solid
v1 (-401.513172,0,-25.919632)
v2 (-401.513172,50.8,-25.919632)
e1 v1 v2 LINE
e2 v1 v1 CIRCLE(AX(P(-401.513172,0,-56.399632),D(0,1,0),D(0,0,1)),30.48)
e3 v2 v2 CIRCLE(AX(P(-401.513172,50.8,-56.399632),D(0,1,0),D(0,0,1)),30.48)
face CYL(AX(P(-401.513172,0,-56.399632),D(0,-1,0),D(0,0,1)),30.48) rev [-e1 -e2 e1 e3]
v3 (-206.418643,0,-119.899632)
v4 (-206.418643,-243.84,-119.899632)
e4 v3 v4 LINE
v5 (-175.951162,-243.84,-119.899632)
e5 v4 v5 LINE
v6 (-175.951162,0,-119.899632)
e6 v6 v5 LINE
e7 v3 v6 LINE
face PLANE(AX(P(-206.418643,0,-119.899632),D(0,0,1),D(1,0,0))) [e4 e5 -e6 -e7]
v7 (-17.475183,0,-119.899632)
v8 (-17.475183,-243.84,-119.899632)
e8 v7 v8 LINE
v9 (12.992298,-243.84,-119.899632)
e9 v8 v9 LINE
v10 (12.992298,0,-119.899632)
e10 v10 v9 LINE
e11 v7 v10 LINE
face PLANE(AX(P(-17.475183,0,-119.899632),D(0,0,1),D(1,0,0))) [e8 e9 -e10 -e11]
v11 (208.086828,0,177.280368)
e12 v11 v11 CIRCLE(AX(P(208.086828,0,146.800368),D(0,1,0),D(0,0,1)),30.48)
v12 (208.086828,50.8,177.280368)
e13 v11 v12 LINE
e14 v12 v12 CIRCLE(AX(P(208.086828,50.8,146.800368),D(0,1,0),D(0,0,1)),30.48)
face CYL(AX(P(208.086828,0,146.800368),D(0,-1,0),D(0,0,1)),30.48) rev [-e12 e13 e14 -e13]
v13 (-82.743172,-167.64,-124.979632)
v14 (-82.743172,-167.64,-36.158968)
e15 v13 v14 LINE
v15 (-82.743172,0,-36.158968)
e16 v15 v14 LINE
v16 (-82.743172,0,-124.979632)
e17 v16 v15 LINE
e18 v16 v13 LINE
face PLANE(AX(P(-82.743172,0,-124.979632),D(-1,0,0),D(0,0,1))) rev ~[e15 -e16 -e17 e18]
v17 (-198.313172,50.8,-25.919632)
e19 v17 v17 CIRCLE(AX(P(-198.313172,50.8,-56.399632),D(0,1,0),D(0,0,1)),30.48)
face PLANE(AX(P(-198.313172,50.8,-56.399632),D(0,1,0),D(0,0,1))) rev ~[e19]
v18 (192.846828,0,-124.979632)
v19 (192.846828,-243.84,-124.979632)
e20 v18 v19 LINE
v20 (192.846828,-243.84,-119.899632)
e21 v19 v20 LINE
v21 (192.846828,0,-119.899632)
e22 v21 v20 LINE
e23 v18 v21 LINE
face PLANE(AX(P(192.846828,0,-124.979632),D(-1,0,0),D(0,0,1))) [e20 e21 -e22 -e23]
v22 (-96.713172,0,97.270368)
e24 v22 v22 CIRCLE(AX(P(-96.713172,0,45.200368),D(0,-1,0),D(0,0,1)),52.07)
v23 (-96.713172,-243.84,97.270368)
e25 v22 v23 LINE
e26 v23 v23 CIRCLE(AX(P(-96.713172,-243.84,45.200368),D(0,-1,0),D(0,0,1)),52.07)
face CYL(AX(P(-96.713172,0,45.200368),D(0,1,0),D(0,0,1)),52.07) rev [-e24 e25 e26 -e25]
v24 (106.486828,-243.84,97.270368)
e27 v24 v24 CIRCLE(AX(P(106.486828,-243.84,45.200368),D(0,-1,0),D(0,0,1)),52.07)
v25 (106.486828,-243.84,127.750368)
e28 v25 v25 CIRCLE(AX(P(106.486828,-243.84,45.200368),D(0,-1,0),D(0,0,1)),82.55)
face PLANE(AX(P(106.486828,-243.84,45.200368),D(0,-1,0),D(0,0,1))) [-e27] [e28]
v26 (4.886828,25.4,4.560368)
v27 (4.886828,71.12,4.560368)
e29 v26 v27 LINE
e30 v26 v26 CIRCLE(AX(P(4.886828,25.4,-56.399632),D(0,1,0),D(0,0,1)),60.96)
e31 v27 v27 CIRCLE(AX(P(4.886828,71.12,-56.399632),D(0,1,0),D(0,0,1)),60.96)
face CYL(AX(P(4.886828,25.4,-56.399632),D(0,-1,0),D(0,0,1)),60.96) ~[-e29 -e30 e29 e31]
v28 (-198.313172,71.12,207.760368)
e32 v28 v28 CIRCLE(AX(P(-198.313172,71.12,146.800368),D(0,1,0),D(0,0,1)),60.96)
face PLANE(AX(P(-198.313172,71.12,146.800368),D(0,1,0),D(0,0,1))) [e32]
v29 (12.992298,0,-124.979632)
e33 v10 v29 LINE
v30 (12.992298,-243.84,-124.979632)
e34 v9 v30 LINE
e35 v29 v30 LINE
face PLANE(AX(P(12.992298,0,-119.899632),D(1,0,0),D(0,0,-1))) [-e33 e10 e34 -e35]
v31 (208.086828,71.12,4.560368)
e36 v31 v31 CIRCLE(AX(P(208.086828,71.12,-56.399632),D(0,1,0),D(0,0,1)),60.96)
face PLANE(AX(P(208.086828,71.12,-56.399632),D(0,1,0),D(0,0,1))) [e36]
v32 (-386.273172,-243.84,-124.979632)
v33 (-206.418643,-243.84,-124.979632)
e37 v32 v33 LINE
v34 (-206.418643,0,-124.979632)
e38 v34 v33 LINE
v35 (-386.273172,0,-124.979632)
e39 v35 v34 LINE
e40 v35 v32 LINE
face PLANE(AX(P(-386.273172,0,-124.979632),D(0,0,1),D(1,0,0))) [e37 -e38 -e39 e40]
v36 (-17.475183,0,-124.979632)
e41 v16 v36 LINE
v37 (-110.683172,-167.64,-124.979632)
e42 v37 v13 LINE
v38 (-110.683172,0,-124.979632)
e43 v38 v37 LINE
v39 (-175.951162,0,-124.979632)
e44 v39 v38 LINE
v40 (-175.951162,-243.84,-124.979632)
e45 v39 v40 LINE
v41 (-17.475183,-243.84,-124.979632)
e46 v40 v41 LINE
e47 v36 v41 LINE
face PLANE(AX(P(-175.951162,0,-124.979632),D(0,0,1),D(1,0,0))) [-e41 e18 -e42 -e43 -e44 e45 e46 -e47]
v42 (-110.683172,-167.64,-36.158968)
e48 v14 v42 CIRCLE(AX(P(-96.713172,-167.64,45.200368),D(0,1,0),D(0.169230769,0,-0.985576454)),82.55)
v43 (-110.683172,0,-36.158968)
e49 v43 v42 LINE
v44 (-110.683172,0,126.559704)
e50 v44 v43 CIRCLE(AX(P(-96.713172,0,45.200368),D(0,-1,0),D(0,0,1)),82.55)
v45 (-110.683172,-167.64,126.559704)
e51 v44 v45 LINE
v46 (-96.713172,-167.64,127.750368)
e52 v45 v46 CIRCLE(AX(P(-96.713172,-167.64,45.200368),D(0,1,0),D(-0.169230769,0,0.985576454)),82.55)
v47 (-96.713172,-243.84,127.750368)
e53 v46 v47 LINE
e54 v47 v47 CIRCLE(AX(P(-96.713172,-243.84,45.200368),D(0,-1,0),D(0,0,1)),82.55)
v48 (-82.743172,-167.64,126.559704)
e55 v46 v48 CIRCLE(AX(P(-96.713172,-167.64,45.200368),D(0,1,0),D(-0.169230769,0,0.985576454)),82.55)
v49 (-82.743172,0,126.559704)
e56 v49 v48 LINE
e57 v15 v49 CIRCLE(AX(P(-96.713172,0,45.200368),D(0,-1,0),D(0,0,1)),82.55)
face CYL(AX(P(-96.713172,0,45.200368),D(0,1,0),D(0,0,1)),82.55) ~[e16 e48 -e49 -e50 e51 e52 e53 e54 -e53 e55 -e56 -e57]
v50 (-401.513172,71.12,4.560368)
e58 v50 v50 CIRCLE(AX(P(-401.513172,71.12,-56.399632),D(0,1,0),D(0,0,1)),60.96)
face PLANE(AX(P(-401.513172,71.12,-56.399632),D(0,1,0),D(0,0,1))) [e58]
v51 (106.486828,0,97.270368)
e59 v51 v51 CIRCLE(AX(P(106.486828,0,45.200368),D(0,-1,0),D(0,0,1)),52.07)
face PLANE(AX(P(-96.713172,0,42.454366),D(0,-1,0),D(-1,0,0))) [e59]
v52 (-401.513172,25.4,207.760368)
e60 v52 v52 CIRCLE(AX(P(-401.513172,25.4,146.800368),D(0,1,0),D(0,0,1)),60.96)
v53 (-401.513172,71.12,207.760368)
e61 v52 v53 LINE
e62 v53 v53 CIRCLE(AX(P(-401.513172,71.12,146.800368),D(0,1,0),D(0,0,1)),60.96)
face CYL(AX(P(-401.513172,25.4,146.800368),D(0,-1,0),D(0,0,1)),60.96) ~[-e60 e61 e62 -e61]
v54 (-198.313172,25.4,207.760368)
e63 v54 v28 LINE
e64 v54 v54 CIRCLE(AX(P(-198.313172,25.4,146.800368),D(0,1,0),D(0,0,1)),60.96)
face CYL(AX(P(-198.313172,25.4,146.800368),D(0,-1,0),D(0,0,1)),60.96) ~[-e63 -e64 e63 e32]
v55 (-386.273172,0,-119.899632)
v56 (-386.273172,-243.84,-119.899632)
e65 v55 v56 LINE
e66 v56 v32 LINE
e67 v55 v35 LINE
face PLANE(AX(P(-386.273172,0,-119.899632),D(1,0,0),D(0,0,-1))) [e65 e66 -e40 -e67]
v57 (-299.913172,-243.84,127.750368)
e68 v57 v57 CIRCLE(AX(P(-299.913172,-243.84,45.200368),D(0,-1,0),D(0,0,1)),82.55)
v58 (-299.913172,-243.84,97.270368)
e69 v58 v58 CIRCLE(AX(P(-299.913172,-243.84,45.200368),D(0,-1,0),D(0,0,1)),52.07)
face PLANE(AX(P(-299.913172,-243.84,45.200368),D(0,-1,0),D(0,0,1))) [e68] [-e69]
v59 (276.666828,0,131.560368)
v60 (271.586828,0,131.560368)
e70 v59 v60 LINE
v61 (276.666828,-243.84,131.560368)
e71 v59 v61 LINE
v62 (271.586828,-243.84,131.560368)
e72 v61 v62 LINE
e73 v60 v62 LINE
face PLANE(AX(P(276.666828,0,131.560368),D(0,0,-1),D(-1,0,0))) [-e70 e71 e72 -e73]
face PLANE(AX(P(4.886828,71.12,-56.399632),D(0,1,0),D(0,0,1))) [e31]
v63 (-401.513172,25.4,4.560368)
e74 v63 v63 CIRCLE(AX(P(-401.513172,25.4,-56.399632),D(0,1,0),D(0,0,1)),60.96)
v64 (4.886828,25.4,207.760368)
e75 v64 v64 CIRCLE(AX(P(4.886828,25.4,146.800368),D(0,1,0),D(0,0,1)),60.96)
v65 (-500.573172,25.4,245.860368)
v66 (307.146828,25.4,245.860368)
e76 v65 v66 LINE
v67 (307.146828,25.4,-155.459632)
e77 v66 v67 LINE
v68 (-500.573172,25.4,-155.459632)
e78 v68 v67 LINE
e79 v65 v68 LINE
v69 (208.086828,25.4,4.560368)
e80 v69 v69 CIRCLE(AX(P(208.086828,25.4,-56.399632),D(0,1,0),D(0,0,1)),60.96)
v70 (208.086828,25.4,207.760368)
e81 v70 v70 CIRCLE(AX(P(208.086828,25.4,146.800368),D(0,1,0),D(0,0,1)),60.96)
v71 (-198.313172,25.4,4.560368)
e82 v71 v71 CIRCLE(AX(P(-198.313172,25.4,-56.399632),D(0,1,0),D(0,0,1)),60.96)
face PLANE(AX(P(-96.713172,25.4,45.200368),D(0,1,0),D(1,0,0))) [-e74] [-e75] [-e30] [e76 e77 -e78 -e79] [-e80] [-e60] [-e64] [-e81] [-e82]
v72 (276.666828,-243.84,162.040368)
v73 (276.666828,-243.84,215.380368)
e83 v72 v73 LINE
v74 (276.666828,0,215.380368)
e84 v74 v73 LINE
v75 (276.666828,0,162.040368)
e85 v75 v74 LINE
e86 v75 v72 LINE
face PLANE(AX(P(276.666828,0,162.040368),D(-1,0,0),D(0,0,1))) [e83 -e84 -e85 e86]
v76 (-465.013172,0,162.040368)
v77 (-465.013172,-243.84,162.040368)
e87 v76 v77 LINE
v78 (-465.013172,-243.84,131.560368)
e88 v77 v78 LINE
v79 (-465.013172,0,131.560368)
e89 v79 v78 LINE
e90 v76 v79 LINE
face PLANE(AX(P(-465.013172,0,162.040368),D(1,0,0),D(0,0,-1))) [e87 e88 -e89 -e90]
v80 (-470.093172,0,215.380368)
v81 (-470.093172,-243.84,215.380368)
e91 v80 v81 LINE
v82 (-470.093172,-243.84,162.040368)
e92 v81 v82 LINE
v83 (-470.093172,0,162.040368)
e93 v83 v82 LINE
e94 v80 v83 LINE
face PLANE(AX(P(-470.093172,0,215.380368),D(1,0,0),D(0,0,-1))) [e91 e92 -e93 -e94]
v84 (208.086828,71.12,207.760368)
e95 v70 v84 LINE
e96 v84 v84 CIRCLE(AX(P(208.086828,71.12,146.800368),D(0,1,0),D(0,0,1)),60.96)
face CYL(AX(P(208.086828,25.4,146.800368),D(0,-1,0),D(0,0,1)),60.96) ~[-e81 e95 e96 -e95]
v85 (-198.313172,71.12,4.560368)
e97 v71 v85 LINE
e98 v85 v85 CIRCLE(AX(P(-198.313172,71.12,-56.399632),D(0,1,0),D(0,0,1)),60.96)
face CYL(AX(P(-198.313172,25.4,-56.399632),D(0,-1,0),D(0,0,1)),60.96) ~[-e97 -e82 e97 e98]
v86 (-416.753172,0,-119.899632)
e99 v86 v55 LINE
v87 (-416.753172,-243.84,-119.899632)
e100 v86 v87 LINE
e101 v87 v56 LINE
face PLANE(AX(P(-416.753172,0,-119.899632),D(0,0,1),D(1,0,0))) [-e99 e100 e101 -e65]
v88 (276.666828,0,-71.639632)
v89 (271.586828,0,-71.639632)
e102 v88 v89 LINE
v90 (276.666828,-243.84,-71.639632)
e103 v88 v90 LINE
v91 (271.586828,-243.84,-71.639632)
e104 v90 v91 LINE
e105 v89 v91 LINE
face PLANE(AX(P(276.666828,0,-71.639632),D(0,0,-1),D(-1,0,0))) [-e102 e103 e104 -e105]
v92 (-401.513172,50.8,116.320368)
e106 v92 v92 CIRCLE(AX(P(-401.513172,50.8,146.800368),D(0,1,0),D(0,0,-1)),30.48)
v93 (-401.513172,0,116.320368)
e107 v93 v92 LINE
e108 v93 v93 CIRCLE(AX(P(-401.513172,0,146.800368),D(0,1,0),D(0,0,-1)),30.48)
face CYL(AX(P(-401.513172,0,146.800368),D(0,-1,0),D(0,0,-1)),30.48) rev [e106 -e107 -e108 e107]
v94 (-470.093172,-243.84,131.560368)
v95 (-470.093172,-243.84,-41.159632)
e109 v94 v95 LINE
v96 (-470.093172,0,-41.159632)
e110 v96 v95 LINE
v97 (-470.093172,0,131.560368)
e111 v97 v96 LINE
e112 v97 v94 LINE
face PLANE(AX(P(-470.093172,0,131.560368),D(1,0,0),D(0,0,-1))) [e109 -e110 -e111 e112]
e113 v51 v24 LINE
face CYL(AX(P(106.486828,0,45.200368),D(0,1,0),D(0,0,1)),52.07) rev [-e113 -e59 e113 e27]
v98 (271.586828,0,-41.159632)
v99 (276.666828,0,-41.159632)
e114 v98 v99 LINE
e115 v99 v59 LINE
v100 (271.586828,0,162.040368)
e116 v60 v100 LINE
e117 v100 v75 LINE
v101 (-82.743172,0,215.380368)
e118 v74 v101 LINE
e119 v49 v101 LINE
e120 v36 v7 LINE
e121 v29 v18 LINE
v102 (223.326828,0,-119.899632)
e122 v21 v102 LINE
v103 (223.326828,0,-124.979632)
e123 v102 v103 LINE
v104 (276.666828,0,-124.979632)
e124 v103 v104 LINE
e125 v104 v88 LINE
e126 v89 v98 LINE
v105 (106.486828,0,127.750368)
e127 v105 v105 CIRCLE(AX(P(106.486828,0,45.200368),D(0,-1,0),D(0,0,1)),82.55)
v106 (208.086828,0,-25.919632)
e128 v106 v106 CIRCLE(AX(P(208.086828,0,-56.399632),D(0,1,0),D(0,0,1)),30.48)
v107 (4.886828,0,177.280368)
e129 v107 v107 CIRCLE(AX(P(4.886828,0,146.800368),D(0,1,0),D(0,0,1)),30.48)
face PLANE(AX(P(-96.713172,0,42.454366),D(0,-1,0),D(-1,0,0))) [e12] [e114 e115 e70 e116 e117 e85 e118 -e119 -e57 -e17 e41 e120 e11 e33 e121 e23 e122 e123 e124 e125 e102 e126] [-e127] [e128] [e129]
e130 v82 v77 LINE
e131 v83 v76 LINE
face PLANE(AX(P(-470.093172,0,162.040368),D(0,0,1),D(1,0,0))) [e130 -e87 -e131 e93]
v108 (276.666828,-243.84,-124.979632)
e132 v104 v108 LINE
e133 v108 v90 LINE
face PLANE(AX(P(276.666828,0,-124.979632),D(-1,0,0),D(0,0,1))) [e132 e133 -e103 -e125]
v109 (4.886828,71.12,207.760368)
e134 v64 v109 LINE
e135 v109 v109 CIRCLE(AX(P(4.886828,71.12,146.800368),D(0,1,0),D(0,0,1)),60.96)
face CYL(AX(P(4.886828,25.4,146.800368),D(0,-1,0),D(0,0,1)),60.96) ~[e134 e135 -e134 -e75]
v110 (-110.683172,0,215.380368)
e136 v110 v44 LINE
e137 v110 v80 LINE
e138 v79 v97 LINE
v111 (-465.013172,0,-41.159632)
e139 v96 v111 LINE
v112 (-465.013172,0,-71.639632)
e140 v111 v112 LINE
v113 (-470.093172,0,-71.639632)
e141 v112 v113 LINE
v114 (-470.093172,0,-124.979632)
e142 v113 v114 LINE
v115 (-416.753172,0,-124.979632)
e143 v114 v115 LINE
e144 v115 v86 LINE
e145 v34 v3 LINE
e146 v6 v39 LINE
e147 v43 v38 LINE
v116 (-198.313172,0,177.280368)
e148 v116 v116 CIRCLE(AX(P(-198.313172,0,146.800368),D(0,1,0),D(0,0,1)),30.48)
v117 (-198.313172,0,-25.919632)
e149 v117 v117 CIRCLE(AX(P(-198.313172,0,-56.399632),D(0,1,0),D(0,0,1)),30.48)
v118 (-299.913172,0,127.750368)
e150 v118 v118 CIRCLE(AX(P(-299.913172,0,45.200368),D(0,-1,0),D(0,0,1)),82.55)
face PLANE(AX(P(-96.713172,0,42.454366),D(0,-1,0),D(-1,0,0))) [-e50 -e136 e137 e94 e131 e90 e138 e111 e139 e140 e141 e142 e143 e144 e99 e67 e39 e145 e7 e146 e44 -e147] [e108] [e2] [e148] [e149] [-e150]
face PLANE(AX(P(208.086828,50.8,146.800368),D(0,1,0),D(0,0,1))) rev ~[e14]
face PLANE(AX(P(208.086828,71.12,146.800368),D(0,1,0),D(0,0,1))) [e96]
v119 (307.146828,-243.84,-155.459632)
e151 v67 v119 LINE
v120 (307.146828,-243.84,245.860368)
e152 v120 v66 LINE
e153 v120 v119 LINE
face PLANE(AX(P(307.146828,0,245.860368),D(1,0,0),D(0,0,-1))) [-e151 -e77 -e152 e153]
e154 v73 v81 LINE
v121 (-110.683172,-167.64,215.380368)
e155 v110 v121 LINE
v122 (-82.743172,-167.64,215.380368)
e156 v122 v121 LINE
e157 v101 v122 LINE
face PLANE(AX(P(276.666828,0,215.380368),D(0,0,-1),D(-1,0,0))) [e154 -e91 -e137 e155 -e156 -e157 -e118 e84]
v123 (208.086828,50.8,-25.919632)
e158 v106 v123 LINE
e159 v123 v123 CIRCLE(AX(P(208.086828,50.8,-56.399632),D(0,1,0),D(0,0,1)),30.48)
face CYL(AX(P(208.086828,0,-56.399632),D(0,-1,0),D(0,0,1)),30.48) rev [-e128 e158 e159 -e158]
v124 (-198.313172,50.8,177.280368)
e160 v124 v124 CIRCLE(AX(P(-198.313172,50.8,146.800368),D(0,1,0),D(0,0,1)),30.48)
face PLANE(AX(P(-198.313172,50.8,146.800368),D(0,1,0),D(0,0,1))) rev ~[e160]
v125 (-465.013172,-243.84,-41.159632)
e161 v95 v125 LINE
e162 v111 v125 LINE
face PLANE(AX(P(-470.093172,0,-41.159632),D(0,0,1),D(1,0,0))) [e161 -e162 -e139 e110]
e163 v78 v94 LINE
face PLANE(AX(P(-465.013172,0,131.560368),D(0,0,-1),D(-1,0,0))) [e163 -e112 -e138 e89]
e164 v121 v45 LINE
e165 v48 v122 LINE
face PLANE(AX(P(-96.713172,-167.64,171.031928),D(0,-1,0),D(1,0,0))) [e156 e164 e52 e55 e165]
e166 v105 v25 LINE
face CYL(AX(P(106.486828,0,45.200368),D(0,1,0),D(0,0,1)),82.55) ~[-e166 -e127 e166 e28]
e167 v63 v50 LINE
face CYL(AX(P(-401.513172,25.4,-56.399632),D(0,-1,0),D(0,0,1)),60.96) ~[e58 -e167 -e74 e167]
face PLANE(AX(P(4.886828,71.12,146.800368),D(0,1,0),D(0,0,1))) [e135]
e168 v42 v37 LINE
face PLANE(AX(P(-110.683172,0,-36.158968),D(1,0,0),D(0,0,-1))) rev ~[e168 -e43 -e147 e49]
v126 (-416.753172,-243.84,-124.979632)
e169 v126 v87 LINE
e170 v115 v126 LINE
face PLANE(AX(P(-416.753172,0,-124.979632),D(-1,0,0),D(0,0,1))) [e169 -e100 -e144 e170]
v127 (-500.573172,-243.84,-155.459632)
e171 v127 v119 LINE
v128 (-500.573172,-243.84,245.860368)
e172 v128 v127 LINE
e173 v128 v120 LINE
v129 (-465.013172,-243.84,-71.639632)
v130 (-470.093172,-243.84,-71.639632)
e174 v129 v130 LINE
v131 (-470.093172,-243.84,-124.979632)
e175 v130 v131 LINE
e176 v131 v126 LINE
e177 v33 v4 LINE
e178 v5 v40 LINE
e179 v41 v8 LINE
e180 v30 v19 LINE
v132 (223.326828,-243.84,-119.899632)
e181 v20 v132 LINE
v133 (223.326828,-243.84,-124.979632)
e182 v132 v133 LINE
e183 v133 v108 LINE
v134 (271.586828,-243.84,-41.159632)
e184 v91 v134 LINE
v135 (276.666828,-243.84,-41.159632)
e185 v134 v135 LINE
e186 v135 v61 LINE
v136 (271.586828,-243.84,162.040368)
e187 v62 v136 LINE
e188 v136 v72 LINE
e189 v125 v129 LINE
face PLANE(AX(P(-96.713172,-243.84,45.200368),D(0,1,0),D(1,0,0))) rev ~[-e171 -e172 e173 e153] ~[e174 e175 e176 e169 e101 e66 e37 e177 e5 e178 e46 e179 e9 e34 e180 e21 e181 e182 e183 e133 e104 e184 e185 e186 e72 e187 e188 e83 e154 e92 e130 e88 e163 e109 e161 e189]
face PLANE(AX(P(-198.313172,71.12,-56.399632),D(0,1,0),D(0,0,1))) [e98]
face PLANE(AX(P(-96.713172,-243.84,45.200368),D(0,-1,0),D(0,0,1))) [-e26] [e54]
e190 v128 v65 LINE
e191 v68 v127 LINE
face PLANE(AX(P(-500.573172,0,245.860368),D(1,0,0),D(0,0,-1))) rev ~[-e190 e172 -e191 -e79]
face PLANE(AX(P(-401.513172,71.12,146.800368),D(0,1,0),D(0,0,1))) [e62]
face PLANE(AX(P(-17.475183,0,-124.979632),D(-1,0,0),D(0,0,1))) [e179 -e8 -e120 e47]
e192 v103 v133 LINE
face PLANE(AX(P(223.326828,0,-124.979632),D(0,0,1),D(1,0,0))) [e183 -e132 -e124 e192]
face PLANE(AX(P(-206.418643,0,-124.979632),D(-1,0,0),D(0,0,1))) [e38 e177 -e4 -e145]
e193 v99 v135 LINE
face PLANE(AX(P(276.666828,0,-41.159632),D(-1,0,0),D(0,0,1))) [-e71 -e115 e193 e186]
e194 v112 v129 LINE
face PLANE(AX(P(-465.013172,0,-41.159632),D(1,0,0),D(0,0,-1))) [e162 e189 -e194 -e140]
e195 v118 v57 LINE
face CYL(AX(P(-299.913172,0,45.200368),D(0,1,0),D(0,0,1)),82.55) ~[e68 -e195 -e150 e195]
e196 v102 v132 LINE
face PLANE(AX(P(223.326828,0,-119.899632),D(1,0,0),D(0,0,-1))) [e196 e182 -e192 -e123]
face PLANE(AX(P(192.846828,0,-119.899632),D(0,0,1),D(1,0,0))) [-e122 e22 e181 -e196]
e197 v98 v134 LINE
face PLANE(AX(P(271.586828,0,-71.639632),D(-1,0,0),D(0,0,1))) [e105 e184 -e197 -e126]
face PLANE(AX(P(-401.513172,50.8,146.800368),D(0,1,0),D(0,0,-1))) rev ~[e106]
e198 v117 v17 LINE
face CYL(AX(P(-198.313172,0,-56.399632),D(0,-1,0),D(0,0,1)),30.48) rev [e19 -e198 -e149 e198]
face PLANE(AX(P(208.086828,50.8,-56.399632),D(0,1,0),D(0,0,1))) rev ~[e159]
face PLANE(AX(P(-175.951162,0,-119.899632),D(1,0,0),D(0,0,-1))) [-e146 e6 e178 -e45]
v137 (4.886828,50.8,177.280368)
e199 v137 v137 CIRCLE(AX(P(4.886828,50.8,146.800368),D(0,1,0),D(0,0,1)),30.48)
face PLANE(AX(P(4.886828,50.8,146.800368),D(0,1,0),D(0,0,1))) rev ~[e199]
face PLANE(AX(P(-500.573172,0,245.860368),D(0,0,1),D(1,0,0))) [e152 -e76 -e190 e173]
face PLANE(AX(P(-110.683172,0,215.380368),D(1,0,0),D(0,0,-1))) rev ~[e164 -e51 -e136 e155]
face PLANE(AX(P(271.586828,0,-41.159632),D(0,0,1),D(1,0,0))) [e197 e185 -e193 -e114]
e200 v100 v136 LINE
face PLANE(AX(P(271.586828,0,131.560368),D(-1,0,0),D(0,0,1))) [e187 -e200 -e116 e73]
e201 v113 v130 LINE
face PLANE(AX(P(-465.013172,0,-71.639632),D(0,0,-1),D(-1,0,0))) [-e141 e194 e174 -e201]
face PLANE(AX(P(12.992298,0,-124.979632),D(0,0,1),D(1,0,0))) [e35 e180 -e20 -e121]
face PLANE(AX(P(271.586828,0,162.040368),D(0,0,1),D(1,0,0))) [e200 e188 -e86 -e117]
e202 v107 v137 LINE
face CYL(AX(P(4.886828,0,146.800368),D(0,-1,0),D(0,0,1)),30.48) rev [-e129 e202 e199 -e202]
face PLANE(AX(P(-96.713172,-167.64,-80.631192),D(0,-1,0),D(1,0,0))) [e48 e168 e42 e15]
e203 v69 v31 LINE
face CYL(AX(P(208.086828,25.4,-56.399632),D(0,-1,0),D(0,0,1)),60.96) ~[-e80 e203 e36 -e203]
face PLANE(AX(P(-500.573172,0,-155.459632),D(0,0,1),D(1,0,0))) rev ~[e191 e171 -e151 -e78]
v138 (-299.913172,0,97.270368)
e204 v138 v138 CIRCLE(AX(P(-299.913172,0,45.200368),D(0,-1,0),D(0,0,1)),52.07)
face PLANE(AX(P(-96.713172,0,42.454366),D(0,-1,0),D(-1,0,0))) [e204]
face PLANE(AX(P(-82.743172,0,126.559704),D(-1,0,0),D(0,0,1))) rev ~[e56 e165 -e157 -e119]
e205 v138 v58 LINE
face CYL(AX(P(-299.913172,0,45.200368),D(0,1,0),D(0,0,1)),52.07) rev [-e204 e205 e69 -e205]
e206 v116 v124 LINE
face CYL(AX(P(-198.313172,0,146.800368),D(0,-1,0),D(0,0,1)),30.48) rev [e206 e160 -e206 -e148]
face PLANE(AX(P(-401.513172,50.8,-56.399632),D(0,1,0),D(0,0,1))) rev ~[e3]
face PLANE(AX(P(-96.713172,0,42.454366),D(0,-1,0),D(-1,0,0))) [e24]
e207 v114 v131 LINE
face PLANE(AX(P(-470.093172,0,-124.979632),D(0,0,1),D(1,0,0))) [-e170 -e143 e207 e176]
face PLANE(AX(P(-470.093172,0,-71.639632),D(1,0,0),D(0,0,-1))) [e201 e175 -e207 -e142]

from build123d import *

# Parameters (mm, degrees)
SKETCH1_W               = 807.72
SKETCH1_H               = 401.32
BOSS_EXTRUDE1_DEPTH     = 25.4
SKETCH1_3_W             = 807.72
SKETCH1_3_H             = 401.32
BOSS_EXTRUDE2_DEPTH     = 243.84
SKETCH2_R               = 60.96
BOSS_EXTRUDE3_DEPTH     = 45.72
SKETCH3_R               = 82.55
SKETCH3_R_2             = 52.07
BOSS_EXTRUDE4_DEPTH     = 243.84
BOSS_EXTRUDE5_DEPTH     = 167.64
CUT_EXTRUDE3_DEPTH      = 25.4
CUT_EXTRUDE3_DEPTH_BACK = 25.4
SKETCH2_6_R             = 30.48


with BuildPart() as part:
    # Sketch1 → Boss-Extrude1 (new body)
    # profile 1 of 2: a face of its own
    with BuildSketch(Plane(origin=(0, 0, 0), x_dir=(1, 0, 0), z_dir=(0, 1, 0))):
        with Locations((-96.713172489, -45.20036793)):
            Rectangle(SKETCH1_W, SKETCH1_H)
        Polygon((271.586827511, 41.15963207), (276.666827511, 41.15963207), (276.666827511, -131.56036793), (271.586827511, -131.56036793), (271.586827511, -162.04036793), (276.666827511, -162.04036793), (276.666827511, -215.38036793), (-470.093172489, -215.38036793), (-470.093172489, -162.04036793), (-465.013172489, -162.04036793), (-465.013172489, -131.56036793), (-470.093172489, -131.56036793), (-470.093172489, 41.15963207), (-465.013172489, 41.15963207), (-465.013172489, 71.63963207), (-470.093172489, 71.63963207), (-470.093172489, 124.97963207), (-416.753172489, 124.97963207), (-416.753172489, 119.89963207), (-386.273172489, 119.89963207), (-386.273172489, 124.97963207), (-206.418642564, 124.97963207), (-206.418642564, 119.89963207), (-175.951162142, 119.89963207), (-175.951162142, 124.97963207), (-17.475182836, 124.97963207), (-17.475182836, 119.89963207), (12.992297586, 119.89963207), (12.992297586, 124.97963207), (192.846827511, 124.97963207), (192.846827511, 119.89963207), (223.326827511, 119.89963207), (223.326827511, 124.97963207), (276.666827511, 124.97963207), (276.666827511, 71.63963207), (271.586827511, 71.63963207), align=None, mode=Mode.SUBTRACT)
    # profile 2 of 2: a face of its own
    with BuildSketch(Plane(origin=(0, 0, 0), x_dir=(1, 0, 0), z_dir=(0, 1, 0))):
        Polygon((276.666827511, 41.15963207), (276.666827511, -131.56036793), (271.586827511, -131.56036793), (271.586827511, -162.04036793), (276.666827511, -162.04036793), (276.666827511, -215.38036793), (-470.093172489, -215.38036793), (-470.093172489, -162.04036793), (-465.013172489, -162.04036793), (-465.013172489, -131.56036793), (-470.093172489, -131.56036793), (-470.093172489, 41.15963207), (-465.013172489, 41.15963207), (-465.013172489, 71.63963207), (-470.093172489, 71.63963207), (-470.093172489, 124.97963207), (-416.753172489, 124.97963207), (-416.753172489, 119.89963207), (-386.273172489, 119.89963207), (-386.273172489, 124.97963207), (-206.418642564, 124.97963207), (-206.418642564, 119.89963207), (-175.951162142, 119.89963207), (-175.951162142, 124.97963207), (-17.475182836, 124.97963207), (-17.475182836, 119.89963207), (12.992297586, 119.89963207), (12.992297586, 124.97963207), (192.846827511, 124.97963207), (192.846827511, 119.89963207), (223.326827511, 119.89963207), (223.326827511, 124.97963207), (276.666827511, 124.97963207), (276.666827511, 71.63963207), (271.586827511, 71.63963207), (271.586827511, 41.15963207), align=None)
    extrude(amount=BOSS_EXTRUDE1_DEPTH)

    # Sketch1<3> → Boss-Extrude2 (add)
    with BuildSketch(Plane(origin=(0, 0, 0), x_dir=(1, 0, 0), z_dir=(0, 1, 0))):
        with Locations((-96.713172489, -45.20036793)):
            Rectangle(SKETCH1_3_W, SKETCH1_3_H)
        Polygon((-416.753172489, 124.97963207), (-416.753172489, 119.89963207), (-386.273172489, 119.89963207), (-386.273172489, 124.97963207), (-206.418642564, 124.97963207), (-206.418642564, 119.89963207), (-175.951162142, 119.89963207), (-175.951162142, 124.97963207), (-17.475182836, 124.97963207), (-17.475182836, 119.89963207), (12.992297586, 119.89963207), (12.992297586, 124.97963207), (192.846827511, 124.97963207), (192.846827511, 119.89963207), (223.326827511, 119.89963207), (223.326827511, 124.97963207), (276.666827511, 124.97963207), (276.666827511, 71.63963207), (271.586827511, 71.63963207), (271.586827511, 41.15963207), (276.666827511, 41.15963207), (276.666827511, -131.56036793), (271.586827511, -131.56036793), (271.586827511, -162.04036793), (276.666827511, -162.04036793), (276.666827511, -215.38036793), (-470.093172489, -215.38036793), (-470.093172489, -162.04036793), (-465.013172489, -162.04036793), (-465.013172489, -131.56036793), (-470.093172489, -131.56036793), (-470.093172489, 41.15963207), (-465.013172489, 41.15963207), (-465.013172489, 71.63963207), (-470.093172489, 71.63963207), (-470.093172489, 124.97963207), align=None, mode=Mode.SUBTRACT)
    extrude(amount=-BOSS_EXTRUDE2_DEPTH)

    # Sketch2 → Boss-Extrude3 (add)
    with BuildSketch(Plane(origin=(0, 25.4, 0), x_dir=(1, 0, 0), z_dir=(0, 1, 0))):
        with Locations(Location((-401.513172489, 56.39963207, 0), (0, 0, 270))):
            Circle(SKETCH2_R)
        with Locations(Location((-198.313172489, 56.39963207, 0), (0, 0, 270))):
            Circle(SKETCH2_R)
        with Locations(Location((-198.313172489, -146.80036793, 0), (0, 0, 270))):
            Circle(SKETCH2_R)
        with Locations(Location((-401.513172489, -146.80036793, 0), (0, 0, 270))):
            Circle(SKETCH2_R)
        with Locations(Location((208.086827511, -146.80036793, 0), (0, 0, 270))):
            Circle(SKETCH2_R)
        with Locations(Location((4.886827511, -146.80036793, 0), (0, 0, 270))):
            Circle(SKETCH2_R)
        with Locations(Location((4.886827511, 56.39963207, 0), (0, 0, 270))):
            Circle(SKETCH2_R)
        with Locations(Location((208.086827511, 56.39963207, 0), (0, 0, 270))):
            Circle(SKETCH2_R)
    extrude(amount=BOSS_EXTRUDE3_DEPTH)

    # Sketch3 → Boss-Extrude4 (add)
    # profile 1 of 3: a face of its own
    with BuildSketch(Plane.XZ):
        with Locations(Location((106.486827511, 45.20036793, 0), (0, 0, 90))):
            Circle(SKETCH3_R)
        with Locations(Location((106.486827511, 45.20036793, 0), (0, 0, 90))):
            Circle(SKETCH3_R_2, mode=Mode.SUBTRACT)
    # profile 2 of 3: a face of its own
    with BuildSketch(Plane.XZ):
        with Locations(Location((-96.713172489, 45.20036793, 0), (0, 0, 90))):
            Circle(SKETCH3_R)
        with Locations(Location((-96.713172489, 45.20036793, 0), (0, 0, 90))):
            Circle(SKETCH3_R_2, mode=Mode.SUBTRACT)
    # profile 3 of 3: a face of its own
    with BuildSketch(Plane.XZ):
        with Locations(Location((-299.913172489, 45.20036793, 0), (0, 0, 90))):
            Circle(SKETCH3_R)
        with Locations(Location((-299.913172489, 45.20036793, 0), (0, 0, 90))):
            Circle(SKETCH3_R_2, mode=Mode.SUBTRACT)
    extrude(amount=BOSS_EXTRUDE4_DEPTH)

    # Sketch3<4> → Boss-Extrude5 (add)
    with BuildSketch(Plane.XZ):
        with BuildLine():
            Line((-110.683172489, 215.38036793), (-110.683172489, 126.55970421))
            ThreePointArc((-110.683172489, 126.55970421), (-96.713172489, 127.75036793), (-82.743172489, 126.55970421))
            Line((-82.743172489, 126.55970421), (-82.743172489, 215.38036793))
            Line((-82.743172489, 215.38036793), (-110.683172489, 215.38036793))
        make_face()
        with BuildLine():
            ThreePointArc((-82.743172489, -36.158968351), (-96.713172489, -37.34963207), (-110.683172489, -36.158968351))
            Line((-110.683172489, -36.158968351), (-110.683172489, -124.97963207))
            Line((-110.683172489, -124.97963207), (-82.743172489, -124.97963207))
            Line((-82.743172489, -124.97963207), (-82.743172489, -36.158968351))
        make_face()
    extrude(amount=BOSS_EXTRUDE5_DEPTH)

    # Sketch2<6> → Cut-Extrude3 (cut, two sides: drawn at the far end of the back side and taken through both)
    with BuildSketch(Plane(origin=(0, 25.4, 0), x_dir=(1, 0, 0), z_dir=(0, 1, 0)).offset(-CUT_EXTRUDE3_DEPTH_BACK)):
        with Locations(Location((-401.513172489, 56.39963207, 0), (0, 0, 270))):
            Circle(SKETCH2_6_R)
        with Locations(Location((-198.313172489, 56.39963207, 0), (0, 0, 270))):
            Circle(SKETCH2_6_R)
        with Locations(Location((-198.313172489, -146.80036793, 0), (0, 0, 270))):
            Circle(SKETCH2_6_R)
        with Locations(Location((208.086827511, -146.80036793, 0), (0, 0, 270))):
            Circle(SKETCH2_6_R)
        with Locations(Location((208.086827511, 56.39963207, 0), (0, 0, 270))):
            Circle(SKETCH2_6_R)
        with Locations(Location((-401.513172489, -146.80036793, 0), (0, 0, 90))):
            Circle(SKETCH2_6_R)
        with Locations(Location((4.886827511, -146.80036793, 0), (0, 0, 270))):
            Circle(SKETCH2_6_R)
    extrude(amount=CUT_EXTRUDE3_DEPTH + CUT_EXTRUDE3_DEPTH_BACK, mode=Mode.SUBTRACT)


solid = part.part
